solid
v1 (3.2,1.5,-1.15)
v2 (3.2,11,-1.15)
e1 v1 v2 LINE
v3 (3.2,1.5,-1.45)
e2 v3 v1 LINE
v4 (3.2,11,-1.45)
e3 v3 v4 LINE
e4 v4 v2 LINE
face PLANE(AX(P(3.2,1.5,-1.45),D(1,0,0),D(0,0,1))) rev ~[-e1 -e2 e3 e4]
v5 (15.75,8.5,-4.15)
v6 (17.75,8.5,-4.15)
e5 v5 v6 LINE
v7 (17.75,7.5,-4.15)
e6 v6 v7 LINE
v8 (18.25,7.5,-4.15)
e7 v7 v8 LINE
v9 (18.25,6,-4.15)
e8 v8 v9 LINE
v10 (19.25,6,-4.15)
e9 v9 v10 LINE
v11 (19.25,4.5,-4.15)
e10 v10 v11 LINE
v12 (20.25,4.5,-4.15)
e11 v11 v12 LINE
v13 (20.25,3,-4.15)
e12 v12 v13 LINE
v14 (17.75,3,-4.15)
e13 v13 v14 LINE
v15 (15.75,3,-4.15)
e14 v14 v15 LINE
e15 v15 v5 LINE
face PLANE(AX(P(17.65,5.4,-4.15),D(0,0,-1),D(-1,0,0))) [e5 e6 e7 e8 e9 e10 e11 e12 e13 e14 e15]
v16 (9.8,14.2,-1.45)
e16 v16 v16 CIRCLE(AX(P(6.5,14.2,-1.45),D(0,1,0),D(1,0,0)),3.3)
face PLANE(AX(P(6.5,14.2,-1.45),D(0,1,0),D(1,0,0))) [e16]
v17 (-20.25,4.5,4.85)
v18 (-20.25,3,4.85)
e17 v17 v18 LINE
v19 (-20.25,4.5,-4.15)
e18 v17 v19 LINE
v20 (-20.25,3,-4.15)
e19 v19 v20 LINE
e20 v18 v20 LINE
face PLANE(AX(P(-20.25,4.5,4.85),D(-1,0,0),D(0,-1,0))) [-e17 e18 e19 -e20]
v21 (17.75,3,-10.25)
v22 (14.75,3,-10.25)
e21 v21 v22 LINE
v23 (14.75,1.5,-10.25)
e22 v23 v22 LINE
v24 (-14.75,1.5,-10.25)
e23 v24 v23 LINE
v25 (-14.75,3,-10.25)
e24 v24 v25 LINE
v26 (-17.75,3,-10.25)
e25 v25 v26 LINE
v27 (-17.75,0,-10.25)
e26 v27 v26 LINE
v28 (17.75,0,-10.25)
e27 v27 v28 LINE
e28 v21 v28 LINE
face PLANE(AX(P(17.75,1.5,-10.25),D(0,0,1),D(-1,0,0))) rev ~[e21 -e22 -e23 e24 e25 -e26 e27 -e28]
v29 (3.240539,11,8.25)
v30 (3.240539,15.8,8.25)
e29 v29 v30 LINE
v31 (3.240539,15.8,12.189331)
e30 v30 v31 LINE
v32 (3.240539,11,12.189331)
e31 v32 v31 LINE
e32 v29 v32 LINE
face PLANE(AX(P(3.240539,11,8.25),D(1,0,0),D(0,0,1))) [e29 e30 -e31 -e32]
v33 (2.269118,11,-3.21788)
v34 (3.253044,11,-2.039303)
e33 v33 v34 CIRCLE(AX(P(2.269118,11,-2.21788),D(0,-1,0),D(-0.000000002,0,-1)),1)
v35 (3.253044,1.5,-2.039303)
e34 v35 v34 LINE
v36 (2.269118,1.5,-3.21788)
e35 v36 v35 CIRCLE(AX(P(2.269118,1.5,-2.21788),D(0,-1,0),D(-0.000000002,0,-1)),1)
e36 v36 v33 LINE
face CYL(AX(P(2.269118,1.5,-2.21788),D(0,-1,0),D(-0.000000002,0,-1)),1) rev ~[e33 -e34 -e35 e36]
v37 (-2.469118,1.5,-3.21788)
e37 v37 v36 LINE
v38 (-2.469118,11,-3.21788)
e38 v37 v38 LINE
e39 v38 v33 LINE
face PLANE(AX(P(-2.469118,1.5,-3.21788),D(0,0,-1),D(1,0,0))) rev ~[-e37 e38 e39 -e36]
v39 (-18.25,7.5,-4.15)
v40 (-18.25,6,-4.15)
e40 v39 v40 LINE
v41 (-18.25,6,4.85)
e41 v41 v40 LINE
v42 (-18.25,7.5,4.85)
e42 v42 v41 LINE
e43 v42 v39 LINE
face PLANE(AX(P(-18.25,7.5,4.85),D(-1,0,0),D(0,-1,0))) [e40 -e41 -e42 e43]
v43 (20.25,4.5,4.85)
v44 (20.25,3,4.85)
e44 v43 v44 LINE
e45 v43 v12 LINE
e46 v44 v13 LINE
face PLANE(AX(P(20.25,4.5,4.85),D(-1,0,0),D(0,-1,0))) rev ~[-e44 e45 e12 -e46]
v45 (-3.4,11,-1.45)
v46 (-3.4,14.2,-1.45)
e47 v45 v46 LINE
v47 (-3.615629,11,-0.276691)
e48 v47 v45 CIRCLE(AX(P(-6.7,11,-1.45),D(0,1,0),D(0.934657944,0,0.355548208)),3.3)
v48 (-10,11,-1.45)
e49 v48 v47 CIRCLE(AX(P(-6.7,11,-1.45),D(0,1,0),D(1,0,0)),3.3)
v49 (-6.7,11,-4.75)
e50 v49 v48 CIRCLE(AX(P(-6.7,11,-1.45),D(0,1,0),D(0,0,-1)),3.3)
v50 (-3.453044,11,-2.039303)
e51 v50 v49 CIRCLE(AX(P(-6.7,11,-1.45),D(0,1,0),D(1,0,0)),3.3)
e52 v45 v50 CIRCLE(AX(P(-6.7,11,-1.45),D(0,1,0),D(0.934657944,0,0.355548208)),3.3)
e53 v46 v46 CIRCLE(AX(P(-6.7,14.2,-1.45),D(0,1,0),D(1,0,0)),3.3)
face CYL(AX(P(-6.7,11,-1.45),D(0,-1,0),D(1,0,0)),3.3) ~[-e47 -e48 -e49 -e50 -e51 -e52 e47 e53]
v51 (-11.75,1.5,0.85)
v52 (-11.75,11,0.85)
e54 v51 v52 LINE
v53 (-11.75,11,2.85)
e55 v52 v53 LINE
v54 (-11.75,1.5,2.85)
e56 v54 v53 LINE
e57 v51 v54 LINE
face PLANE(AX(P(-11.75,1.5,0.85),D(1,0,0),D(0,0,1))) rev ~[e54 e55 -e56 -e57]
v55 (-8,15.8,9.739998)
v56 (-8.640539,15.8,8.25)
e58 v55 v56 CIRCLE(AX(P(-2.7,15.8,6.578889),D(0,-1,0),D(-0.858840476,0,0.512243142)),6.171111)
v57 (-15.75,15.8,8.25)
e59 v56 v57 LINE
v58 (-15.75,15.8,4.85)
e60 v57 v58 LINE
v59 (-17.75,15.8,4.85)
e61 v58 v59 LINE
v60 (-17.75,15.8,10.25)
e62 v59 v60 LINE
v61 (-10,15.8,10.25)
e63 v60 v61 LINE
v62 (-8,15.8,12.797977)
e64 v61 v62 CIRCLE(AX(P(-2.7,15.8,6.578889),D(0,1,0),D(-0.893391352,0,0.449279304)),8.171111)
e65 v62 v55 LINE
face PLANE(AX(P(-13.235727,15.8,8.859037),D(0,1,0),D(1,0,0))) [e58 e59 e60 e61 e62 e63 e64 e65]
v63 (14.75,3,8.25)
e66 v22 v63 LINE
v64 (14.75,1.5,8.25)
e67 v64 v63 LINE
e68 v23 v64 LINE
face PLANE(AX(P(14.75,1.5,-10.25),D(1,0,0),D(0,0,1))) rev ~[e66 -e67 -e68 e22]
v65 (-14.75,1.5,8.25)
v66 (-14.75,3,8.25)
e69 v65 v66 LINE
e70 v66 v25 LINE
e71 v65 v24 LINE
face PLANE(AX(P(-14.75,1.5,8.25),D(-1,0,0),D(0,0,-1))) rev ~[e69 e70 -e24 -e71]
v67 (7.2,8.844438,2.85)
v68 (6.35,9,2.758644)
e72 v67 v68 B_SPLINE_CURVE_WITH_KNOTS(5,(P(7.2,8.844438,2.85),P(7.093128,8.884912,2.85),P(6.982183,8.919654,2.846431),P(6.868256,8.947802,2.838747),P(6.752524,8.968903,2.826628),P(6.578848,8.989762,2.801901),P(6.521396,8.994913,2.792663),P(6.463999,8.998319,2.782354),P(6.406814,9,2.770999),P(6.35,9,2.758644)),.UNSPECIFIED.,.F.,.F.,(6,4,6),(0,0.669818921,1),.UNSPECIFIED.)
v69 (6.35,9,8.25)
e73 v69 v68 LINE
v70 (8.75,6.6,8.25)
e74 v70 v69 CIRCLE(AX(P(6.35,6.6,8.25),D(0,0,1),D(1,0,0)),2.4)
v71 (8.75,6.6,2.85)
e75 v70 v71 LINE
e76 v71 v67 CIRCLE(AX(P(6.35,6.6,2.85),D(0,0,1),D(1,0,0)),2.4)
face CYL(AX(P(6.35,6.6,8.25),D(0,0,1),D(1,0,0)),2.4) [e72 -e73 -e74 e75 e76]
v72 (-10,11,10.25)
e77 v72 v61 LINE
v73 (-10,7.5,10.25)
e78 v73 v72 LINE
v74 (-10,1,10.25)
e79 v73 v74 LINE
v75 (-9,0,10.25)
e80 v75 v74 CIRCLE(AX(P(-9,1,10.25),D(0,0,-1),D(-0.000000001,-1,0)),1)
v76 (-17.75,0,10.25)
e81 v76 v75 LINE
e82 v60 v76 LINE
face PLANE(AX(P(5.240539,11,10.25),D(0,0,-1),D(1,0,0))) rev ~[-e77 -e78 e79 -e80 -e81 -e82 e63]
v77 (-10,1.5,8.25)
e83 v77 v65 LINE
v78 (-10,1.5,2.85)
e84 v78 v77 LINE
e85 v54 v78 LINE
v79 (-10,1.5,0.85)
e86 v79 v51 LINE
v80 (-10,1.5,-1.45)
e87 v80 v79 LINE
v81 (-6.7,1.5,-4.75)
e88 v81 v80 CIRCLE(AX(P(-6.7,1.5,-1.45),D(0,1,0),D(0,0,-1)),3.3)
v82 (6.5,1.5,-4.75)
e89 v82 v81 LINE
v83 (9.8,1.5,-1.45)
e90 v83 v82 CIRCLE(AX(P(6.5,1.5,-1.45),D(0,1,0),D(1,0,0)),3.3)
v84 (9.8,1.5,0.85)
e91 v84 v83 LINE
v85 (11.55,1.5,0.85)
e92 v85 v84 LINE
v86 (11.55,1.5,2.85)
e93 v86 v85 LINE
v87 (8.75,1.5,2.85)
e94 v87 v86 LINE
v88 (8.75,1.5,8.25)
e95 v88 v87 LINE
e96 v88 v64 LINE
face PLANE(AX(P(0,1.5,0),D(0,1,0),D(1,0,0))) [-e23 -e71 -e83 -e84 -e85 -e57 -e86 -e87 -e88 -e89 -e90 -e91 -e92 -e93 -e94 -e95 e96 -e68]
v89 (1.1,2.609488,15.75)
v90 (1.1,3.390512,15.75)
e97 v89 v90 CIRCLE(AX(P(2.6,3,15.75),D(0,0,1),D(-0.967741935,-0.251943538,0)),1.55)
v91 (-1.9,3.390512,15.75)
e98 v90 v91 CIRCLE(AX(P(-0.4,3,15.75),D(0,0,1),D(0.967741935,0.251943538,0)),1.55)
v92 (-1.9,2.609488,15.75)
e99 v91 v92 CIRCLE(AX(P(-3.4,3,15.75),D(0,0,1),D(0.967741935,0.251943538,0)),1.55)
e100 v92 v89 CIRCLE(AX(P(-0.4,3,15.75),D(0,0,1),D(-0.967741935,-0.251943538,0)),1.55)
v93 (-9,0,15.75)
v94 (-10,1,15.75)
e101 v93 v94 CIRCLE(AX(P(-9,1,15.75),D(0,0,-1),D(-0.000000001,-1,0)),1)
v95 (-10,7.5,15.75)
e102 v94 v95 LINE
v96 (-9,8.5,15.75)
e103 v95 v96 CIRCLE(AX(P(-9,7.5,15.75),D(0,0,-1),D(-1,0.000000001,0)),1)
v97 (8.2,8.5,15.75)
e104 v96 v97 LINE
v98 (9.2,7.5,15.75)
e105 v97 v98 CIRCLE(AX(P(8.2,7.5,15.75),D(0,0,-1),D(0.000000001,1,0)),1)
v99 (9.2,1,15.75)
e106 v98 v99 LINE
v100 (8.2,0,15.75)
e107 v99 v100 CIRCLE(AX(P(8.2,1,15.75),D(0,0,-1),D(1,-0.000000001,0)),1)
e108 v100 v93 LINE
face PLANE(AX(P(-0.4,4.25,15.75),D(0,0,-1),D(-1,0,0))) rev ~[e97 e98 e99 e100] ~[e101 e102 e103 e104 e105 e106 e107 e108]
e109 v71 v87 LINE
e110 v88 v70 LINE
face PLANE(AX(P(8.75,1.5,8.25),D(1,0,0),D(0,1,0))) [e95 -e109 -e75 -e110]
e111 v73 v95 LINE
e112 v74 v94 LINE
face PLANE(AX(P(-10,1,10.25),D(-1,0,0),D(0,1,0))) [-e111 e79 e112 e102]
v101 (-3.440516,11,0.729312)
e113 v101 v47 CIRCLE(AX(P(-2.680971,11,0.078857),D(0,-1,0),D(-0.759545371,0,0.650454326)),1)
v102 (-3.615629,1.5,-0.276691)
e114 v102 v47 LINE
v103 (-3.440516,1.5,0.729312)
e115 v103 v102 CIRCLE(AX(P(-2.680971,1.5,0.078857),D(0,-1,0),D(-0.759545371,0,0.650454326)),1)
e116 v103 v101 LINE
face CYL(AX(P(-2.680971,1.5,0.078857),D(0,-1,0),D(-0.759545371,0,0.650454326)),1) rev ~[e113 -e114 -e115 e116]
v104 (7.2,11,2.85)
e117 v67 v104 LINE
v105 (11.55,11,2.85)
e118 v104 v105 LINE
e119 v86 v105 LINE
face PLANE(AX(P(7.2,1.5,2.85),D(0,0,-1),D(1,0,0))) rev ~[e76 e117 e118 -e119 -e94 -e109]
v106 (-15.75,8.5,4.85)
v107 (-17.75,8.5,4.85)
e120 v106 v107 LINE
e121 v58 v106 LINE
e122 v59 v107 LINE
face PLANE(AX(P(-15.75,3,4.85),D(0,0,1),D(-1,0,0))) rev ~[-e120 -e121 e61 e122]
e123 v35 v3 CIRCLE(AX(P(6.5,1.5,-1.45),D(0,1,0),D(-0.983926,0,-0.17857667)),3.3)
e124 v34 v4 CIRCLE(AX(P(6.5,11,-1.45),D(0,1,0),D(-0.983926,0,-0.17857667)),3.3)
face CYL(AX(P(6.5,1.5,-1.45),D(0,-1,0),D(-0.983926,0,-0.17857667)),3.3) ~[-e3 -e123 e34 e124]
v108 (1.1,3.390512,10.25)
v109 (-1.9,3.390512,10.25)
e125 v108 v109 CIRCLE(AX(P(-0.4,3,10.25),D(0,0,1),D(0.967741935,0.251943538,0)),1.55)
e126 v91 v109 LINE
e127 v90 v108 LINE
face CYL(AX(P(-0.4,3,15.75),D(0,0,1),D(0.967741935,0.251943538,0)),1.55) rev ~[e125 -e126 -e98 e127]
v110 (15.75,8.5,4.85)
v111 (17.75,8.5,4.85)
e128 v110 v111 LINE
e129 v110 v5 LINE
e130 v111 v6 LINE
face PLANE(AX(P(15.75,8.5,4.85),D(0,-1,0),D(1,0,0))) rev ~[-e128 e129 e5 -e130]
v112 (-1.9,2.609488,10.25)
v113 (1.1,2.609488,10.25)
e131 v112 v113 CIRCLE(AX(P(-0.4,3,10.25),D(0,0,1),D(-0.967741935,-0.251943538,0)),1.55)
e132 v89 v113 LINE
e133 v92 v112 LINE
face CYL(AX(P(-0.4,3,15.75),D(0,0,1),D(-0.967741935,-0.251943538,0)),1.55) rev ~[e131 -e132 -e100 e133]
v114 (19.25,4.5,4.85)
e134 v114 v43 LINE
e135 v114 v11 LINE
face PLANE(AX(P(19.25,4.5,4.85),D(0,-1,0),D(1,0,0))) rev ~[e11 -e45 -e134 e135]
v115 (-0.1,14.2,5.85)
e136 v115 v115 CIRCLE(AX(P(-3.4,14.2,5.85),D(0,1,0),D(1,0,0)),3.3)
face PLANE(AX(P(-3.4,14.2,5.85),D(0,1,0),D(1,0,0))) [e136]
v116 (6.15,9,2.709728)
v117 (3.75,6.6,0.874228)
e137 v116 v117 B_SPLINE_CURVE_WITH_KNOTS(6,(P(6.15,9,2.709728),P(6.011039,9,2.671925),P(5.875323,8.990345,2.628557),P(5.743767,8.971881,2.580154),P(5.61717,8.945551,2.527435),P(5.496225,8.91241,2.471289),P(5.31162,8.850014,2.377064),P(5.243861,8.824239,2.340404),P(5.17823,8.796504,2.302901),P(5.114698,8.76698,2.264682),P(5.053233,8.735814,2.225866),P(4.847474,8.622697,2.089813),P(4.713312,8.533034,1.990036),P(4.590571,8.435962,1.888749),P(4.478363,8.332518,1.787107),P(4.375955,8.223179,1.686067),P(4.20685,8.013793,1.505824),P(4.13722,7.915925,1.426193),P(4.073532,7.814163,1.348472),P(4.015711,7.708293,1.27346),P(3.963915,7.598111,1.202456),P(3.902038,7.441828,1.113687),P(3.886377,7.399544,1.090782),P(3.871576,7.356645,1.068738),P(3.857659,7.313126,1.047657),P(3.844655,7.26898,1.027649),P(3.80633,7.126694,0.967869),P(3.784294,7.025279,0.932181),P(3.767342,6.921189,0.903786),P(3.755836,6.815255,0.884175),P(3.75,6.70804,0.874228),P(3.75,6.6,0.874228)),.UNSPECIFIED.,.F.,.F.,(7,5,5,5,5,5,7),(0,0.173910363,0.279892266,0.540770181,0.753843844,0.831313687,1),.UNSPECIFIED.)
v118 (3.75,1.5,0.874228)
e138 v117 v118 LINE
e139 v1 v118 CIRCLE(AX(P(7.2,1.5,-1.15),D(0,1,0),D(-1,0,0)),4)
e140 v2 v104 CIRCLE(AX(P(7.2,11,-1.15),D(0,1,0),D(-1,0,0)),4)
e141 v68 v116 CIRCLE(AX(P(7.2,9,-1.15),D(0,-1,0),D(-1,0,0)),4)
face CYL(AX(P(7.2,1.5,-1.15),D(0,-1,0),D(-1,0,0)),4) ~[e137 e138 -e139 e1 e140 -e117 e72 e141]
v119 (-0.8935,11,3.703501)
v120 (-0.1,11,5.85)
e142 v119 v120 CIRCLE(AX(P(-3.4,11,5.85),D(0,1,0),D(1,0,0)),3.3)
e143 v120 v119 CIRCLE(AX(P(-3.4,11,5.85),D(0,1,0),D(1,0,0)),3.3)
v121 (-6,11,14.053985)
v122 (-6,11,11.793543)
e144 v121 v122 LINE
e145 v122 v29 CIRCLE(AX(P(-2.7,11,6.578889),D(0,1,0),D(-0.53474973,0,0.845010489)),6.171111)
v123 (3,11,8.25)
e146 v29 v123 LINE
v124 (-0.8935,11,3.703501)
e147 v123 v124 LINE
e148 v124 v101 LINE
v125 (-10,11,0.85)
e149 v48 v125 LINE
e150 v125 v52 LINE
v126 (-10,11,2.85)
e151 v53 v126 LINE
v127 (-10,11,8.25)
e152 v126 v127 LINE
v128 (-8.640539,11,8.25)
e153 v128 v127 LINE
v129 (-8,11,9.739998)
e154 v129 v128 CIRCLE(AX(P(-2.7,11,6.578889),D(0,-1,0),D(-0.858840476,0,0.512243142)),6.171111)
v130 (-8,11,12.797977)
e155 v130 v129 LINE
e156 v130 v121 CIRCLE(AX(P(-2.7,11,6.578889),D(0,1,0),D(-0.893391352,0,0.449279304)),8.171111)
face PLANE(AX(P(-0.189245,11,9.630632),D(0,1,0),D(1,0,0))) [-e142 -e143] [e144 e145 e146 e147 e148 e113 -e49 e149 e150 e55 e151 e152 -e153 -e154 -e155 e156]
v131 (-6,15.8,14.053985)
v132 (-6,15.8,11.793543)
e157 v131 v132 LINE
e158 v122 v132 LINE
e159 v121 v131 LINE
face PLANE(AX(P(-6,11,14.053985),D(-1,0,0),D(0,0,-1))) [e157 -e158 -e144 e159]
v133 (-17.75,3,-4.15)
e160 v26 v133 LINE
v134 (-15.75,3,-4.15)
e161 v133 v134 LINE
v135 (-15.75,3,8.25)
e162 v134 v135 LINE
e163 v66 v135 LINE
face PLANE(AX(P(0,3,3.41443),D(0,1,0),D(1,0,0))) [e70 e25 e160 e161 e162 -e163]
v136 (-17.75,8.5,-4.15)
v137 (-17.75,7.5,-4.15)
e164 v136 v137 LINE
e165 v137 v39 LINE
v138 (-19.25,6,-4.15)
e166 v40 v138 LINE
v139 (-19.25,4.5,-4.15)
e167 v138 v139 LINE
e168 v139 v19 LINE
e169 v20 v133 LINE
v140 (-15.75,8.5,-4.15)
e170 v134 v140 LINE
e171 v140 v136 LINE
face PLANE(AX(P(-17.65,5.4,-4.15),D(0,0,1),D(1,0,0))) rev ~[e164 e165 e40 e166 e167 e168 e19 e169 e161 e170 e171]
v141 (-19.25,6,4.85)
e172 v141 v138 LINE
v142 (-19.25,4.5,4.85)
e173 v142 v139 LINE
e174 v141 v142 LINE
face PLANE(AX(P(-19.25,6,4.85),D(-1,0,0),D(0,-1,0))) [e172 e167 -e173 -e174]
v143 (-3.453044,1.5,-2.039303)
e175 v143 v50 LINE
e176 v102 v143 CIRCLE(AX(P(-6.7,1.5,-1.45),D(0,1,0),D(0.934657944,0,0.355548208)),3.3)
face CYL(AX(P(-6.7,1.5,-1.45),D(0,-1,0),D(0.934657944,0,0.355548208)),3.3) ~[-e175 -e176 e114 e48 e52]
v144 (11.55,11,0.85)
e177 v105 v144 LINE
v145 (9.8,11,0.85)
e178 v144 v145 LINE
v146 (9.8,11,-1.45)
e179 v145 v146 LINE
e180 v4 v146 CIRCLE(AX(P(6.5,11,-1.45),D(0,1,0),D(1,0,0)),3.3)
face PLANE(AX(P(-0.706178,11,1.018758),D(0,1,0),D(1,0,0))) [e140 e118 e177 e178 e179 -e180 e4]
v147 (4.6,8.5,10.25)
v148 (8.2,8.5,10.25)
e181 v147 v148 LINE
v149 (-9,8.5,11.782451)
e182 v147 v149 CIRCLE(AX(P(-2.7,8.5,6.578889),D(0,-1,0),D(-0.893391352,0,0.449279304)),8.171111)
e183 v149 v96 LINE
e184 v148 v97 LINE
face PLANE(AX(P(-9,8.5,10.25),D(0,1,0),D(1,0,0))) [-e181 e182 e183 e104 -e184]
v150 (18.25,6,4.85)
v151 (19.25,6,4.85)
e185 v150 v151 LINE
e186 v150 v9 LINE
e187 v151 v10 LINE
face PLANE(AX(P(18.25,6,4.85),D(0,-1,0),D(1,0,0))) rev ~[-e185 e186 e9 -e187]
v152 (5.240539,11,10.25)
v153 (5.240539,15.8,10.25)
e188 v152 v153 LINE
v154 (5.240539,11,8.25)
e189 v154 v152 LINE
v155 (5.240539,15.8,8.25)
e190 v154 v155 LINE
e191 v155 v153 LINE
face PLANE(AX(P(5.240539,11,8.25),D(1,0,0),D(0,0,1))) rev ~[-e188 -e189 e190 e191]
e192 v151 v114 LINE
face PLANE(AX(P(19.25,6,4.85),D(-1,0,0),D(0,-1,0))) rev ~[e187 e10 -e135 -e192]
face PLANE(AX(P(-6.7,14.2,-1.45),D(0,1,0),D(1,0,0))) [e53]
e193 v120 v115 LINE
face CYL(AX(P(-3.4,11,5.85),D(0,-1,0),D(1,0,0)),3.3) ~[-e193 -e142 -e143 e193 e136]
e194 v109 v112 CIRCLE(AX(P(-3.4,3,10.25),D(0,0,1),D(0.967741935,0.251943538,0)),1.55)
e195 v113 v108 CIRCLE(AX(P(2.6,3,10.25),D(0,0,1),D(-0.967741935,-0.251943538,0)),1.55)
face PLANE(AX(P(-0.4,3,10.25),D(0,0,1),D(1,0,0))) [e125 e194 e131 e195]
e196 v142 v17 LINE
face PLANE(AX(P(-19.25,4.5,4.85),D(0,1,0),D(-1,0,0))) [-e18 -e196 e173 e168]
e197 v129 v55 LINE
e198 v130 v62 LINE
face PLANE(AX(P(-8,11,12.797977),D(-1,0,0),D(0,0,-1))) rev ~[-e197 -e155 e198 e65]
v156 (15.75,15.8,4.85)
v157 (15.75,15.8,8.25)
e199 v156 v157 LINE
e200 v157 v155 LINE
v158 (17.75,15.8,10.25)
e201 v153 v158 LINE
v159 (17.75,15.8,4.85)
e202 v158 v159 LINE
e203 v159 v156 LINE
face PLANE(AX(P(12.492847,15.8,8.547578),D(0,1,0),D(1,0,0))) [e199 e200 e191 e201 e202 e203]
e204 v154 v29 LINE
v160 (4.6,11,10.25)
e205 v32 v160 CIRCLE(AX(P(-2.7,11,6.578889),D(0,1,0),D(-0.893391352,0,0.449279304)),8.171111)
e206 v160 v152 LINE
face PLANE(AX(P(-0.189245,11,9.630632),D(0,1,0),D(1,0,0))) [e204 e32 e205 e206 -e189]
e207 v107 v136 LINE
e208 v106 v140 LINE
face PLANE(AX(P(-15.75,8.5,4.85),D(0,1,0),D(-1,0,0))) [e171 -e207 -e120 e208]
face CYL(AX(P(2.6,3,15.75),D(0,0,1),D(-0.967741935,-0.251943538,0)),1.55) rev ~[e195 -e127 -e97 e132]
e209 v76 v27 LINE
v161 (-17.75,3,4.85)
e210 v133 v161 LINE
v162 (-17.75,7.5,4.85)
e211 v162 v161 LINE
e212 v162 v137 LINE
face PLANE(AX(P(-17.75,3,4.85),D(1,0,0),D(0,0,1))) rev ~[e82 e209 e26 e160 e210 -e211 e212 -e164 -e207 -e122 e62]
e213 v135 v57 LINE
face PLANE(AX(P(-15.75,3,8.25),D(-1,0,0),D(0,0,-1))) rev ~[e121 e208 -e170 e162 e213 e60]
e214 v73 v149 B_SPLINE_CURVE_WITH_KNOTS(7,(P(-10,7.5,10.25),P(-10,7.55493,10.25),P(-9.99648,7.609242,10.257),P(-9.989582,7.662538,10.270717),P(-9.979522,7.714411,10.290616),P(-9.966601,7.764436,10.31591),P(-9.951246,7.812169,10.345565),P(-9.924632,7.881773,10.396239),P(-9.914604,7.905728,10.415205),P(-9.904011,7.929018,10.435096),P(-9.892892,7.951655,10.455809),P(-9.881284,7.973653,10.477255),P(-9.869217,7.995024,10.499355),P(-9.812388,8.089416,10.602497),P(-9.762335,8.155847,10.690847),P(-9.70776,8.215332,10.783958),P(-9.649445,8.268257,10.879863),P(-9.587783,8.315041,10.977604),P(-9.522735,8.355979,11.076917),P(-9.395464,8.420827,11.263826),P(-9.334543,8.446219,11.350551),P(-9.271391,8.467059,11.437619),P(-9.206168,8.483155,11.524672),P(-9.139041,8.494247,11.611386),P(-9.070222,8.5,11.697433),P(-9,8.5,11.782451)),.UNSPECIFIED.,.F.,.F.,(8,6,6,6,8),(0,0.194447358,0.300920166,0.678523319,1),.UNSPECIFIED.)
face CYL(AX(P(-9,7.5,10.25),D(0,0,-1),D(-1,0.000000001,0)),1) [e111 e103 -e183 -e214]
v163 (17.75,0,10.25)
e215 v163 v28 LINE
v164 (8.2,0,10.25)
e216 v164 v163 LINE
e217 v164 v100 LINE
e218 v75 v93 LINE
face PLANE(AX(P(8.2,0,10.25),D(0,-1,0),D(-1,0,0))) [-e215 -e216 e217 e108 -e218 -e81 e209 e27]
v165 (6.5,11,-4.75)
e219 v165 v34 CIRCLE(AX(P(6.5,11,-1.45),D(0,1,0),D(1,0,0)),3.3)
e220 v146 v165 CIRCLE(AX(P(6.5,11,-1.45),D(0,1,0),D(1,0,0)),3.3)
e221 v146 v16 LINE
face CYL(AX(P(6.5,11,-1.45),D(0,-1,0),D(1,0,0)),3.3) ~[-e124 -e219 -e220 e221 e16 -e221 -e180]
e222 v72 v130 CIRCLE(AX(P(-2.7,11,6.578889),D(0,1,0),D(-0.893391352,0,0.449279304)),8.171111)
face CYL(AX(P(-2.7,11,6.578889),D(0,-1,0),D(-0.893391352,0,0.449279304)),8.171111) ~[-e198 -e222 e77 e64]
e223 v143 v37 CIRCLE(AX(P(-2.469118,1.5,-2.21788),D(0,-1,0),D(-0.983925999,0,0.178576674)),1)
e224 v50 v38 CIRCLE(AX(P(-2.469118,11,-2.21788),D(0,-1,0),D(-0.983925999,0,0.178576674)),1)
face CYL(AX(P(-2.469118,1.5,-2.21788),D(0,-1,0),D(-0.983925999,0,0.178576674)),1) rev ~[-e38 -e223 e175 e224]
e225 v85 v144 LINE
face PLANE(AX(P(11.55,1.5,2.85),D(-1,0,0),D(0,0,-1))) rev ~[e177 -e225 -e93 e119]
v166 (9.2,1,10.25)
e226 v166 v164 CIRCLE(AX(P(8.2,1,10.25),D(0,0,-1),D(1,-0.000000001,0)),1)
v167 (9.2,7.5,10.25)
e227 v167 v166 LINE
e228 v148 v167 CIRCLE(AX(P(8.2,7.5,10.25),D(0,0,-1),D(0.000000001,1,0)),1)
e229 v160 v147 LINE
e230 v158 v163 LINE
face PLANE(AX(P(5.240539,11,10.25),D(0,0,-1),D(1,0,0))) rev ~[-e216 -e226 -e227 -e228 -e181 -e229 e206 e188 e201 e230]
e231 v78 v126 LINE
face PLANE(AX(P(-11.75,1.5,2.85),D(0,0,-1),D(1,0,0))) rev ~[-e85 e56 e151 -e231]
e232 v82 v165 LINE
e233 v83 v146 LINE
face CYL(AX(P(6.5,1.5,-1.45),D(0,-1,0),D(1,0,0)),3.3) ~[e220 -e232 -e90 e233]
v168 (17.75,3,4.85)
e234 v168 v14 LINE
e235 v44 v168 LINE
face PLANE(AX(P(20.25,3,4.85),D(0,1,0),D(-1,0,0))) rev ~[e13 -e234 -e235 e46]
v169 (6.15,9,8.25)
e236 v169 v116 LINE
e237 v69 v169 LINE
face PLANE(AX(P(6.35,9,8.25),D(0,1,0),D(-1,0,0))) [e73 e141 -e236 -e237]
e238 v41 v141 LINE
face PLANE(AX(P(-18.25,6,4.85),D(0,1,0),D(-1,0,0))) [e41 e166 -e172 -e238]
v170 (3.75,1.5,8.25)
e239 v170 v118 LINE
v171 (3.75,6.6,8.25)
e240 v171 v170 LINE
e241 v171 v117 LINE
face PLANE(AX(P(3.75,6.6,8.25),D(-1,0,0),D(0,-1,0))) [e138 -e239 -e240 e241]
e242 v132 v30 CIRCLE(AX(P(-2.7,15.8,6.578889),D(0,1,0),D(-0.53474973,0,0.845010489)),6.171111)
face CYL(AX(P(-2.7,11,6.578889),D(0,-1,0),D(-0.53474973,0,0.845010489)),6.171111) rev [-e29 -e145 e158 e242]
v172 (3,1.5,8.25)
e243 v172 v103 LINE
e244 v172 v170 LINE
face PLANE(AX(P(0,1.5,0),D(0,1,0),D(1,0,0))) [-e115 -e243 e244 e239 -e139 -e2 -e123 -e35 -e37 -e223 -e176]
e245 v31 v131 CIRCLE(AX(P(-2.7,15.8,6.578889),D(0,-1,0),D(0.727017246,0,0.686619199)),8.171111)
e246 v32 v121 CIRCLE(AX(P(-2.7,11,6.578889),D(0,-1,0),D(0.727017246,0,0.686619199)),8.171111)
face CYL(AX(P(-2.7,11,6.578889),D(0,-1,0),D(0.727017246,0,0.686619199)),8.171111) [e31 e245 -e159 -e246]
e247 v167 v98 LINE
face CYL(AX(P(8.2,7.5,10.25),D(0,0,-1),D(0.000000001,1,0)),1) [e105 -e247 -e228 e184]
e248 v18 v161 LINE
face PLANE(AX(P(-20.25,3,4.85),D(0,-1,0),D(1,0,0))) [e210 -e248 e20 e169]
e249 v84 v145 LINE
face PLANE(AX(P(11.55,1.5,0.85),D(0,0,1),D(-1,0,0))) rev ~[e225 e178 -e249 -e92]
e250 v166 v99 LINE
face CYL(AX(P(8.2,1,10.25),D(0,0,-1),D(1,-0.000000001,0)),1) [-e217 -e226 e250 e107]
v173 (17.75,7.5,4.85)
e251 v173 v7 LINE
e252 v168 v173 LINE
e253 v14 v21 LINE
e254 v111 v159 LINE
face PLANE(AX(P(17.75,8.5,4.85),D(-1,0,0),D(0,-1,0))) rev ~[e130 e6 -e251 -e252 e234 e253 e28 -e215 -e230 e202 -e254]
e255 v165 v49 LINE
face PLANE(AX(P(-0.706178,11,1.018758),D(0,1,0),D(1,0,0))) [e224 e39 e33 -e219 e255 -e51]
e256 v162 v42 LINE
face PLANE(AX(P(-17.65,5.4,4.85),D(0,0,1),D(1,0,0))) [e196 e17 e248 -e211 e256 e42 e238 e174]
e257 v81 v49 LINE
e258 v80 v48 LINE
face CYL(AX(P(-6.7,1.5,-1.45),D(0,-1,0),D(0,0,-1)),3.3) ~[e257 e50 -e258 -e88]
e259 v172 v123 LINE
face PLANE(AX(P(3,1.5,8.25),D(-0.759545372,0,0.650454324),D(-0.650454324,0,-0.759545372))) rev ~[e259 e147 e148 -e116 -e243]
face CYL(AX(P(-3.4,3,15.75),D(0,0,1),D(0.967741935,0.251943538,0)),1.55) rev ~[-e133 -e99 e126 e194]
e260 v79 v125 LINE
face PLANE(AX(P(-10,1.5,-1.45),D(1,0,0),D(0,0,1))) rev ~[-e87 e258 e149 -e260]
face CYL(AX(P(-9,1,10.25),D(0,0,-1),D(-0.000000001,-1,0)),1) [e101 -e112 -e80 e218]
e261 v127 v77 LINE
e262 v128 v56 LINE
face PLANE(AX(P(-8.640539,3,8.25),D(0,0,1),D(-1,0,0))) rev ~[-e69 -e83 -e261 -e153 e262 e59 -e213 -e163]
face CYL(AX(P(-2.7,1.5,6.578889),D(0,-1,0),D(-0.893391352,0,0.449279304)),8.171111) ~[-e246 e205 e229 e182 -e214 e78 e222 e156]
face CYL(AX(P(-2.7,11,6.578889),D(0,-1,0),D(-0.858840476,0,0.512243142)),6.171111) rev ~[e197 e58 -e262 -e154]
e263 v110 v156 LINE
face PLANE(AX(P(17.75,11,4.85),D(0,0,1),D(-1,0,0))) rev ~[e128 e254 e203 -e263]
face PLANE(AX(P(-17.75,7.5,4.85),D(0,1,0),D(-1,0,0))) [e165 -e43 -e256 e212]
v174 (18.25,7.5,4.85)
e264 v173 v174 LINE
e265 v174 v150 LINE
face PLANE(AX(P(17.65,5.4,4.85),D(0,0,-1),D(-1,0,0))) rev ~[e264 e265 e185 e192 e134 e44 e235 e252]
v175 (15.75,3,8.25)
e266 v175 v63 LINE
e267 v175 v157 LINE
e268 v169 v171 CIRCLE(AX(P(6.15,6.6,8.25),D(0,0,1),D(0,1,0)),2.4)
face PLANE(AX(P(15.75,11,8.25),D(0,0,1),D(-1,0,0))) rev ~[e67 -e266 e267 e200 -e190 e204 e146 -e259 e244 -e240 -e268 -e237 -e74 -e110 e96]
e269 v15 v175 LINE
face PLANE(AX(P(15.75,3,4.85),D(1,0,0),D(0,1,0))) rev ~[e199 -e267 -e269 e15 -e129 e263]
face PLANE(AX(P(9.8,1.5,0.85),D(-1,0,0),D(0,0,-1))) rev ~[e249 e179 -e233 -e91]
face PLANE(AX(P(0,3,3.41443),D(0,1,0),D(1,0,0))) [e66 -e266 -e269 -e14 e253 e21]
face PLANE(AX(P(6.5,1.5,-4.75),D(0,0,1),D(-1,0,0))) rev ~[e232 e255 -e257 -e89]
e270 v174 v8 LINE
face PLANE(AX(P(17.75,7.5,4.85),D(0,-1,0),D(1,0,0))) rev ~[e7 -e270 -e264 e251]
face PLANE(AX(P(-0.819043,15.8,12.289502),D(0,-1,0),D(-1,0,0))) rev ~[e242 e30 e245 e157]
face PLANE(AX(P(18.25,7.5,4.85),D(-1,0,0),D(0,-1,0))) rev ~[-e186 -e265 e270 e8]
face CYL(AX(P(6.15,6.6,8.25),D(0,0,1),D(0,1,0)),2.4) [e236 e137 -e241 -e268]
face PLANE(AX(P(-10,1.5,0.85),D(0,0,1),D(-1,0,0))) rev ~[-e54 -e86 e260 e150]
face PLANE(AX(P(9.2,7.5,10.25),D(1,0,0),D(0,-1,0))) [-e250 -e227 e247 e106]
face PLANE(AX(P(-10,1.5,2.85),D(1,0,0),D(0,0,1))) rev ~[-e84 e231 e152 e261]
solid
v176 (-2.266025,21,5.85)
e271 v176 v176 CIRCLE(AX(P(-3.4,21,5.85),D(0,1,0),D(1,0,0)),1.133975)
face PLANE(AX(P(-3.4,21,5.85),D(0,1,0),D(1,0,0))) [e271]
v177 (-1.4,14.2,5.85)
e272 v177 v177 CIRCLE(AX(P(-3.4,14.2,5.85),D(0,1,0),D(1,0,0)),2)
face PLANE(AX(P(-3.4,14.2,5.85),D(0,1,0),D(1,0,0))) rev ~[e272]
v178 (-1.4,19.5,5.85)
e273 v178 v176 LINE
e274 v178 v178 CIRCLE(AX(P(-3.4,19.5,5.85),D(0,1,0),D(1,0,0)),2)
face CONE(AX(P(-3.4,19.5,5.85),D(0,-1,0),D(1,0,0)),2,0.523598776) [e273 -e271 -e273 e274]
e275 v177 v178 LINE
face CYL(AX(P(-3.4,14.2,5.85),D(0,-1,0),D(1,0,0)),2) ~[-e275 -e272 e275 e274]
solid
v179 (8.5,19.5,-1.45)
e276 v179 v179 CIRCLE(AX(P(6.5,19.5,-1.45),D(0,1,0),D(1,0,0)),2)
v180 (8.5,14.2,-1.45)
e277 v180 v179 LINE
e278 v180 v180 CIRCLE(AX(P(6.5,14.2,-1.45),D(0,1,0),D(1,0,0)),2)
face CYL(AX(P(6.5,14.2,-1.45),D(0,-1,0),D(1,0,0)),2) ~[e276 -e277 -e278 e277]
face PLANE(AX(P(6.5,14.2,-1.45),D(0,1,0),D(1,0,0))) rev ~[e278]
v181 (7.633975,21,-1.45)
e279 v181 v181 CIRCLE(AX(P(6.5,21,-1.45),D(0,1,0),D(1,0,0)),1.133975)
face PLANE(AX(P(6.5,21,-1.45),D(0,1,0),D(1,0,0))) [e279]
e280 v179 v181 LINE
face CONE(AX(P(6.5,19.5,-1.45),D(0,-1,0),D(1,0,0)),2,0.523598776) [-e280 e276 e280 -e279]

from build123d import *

# Parameters (mm, degrees)
SKETCH1_W             = 35.5
SKETCH1_H             = 20.5
BOSS_EXTRUDE1_DEPTH   = 1.5
BOSS_EXTRUDE2_DEPTH   = 1.5
BOSS_EXTRUDE4_DEPTH   = 9.5
SKETCH6_R             = 3.3
BOSS_EXTRUDE5_DEPTH   = 3.2
SKETCH7_R             = 2
BOSS_EXTRUDE6_DEPTH   = 6.8
BOSS_EXTRUDE6_2_DEPTH = 6.8
CHAMFER1_SIZE         = 1.5
CHAMFER1_SIZE2        = 0.866025404
CHAMFER2_SIZE         = 1.5
CHAMFER2_SIZE2        = 0.866025404
BOSS_EXTRUDE7_DEPTH   = 8
BOSS_EXTRUDE8_DEPTH   = 4.8
BOSS_EXTRUDE9_DEPTH   = 5.5
BOSS_EXTRUDE10_DEPTH  = 9
BOSS_EXTRUDE11_DEPTH  = 9
CUT_EXTRUDE4_DEPTH    = 5.5


with BuildPart() as part:
    # Sketch1 → Boss-Extrude1 (new body)
    with BuildSketch(Plane(origin=(0, 0, 0), x_dir=(1, 0, 0), z_dir=(0, 1, 0))):
        Rectangle(SKETCH1_W, SKETCH1_H)
    extrude(amount=BOSS_EXTRUDE1_DEPTH)

    # Sketch2 → Boss-Extrude2 (add)
    with BuildSketch(Plane(origin=(0, 1.5, 0), x_dir=(1, 0, 0), z_dir=(0, 1, 0))):
        Polygon((17.75, 10.25), (14.75, 10.25), (14.75, -8.25), (-14.75, -8.25), (-14.75, 10.25), (-17.75, 10.25), (-17.75, -10.25), (17.75, -10.25), align=None)
    extrude(amount=BOSS_EXTRUDE2_DEPTH)

    # Sketch4 → Boss-Extrude4 (add)
    with BuildSketch(Plane(origin=(0, 1.5, 0), x_dir=(1, 0, 0), z_dir=(0, 1, 0))):
        with BuildLine():
            ThreePointArc((9.8, 1.45), (8.833452378, 3.783452378), (6.5, 4.75))
            Line((6.5, 4.75), (-6.7, 4.75))
            ThreePointArc((-6.7, 4.75), (-9.033452378, 3.783452378), (-10, 1.45))
            Line((-10, 1.45), (-10, -0.85))
            Line((-10, -0.85), (-11.75, -0.85))
            Line((-11.75, -0.85), (-11.75, -2.85))
            Line((-11.75, -2.85), (-10, -2.85))
            Line((-10, -2.85), (-10, -8.25))
            Line((-10, -8.25), (3, -8.25))
            Line((3, -8.25), (-3.440516213, -0.729311618))
            ThreePointArc((-3.440516213, -0.729311618), (-3.666156861, -0.250346383), (-3.615628786, 0.276690914))
            ThreePointArc((-3.615628786, 0.276690914), (-3.413949819, 1.146892415), (-3.453044202, 2.03930302))
            ThreePointArc((-3.453044202, 2.03930302), (-3.236769385, 2.858747591), (-2.469118203, 3.217879692))
            Line((-2.469118203, 3.217879692), (2.269118203, 3.217879692))
            ThreePointArc((2.269118203, 3.217879692), (3.036769385, 2.858747591), (3.253044202, 2.03930302))
            ThreePointArc((3.253044202, 2.03930302), (3.213287803, 1.745842752), (3.2, 1.45))
            Line((3.2, 1.45), (3.2, 1.15))
            ThreePointArc((3.2, 1.15), (4.371572875, -1.678427125), (7.2, -2.85))
            Line((7.2, -2.85), (9.8, -2.85))
            Line((9.8, -2.85), (11.55, -2.85))
            Line((11.55, -2.85), (11.55, -0.85))
            Line((11.55, -0.85), (9.8, -0.85))
            Line((9.8, -0.85), (9.8, 1.45))
        make_face()
        with BuildLine():
            Line((3, -8.25), (-10, -8.25))
            Line((-10, -8.25), (-10, -10.25))
            ThreePointArc((-10, -10.25), (-2.7, -14.75), (4.6, -10.25))
            Line((4.6, -10.25), (4.6, -8.25))
            Line((4.6, -8.25), (3, -8.25))
        make_face()
    extrude(amount=BOSS_EXTRUDE4_DEPTH)

    # Sketch6 → Boss-Extrude5 (add)
    with BuildSketch(Plane(origin=(0, 11, 0), x_dir=(1, 0, 0), z_dir=(0, 1, 0))):
        with Locations((-6.7, 1.45)):
            Circle(SKETCH6_R)
        with Locations((6.5, 1.45)):
            Circle(SKETCH6_R)
        with Locations((-3.4, -5.85)):
            Circle(SKETCH6_R)
    extrude(amount=BOSS_EXTRUDE5_DEPTH)

    # Sketch8 → Boss-Extrude7 (add)
    with BuildSketch(Plane(origin=(0, 3, 0), x_dir=(1, 0, 0), z_dir=(0, 1, 0))):
        with BuildLine():
            Line((-17.75, -10.25), (-10, -10.25))
            ThreePointArc((-10, -10.25), (-2.7, -14.75), (4.6, -10.25))
            Line((4.6, -10.25), (17.75, -10.25))
            Line((17.75, -10.25), (17.75, -4.85))
            Line((17.75, -4.85), (15.75, -4.85))
            Line((15.75, -4.85), (15.75, -8.25))
            Line((15.75, -8.25), (14.75, -8.25))
            Line((14.75, -8.25), (4.6, -8.25))
            Line((4.6, -8.25), (3.240538696, -8.25))
            ThreePointArc((3.240538696, -8.25), (-2.7, -12.75), (-8.640538696, -8.25))
            Line((-8.640538696, -8.25), (-10, -8.25))
            Line((-10, -8.25), (-14.75, -8.25))
            Line((-14.75, -8.25), (-15.75, -8.25))
            Line((-15.75, -8.25), (-15.75, -4.85))
            Line((-15.75, -4.85), (-17.75, -4.85))
            Line((-17.75, -4.85), (-17.75, -10.25))
        make_face()
    extrude(amount=BOSS_EXTRUDE7_DEPTH)

    # Sketch9 → Boss-Extrude8 (add)
    with BuildSketch(Plane(origin=(0, 11, 0), x_dir=(1, 0, 0), z_dir=(0, 1, 0))):
        Polygon((17.75, -10.25), (17.75, -4.85), (15.75, -4.85), (15.75, -8.25), (5.240538696, -8.25), (5.240538696, -10.25), align=None)
        with BuildLine():
            Line((-17.75, -4.85), (-17.75, -10.25))
            Line((-17.75, -10.25), (-10, -10.25))
            ThreePointArc((-10, -10.25), (-9.127522593, -11.624085625), (-8, -12.797976988))
            Line((-8, -12.797976988), (-8, -9.739998243))
            ThreePointArc((-8, -9.739998243), (-8.369431297, -9.016133462), (-8.640538696, -8.25))
            Line((-8.640538696, -8.25), (-15.75, -8.25))
            Line((-15.75, -8.25), (-15.75, -4.85))
            Line((-15.75, -4.85), (-17.75, -4.85))
        make_face()
        with BuildLine():
            Line((3.240538696, -8.25), (3.240538696, -12.189330653))
            ThreePointArc((3.240538696, -12.189330653), (-1.083725026, -14.588552552), (-6, -14.05398466))
            Line((-6, -14.05398466), (-6, -11.793542506))
            ThreePointArc((-6, -11.793542506), (-0.490410779, -12.340861452), (3.240538696, -8.25))
        make_face()
    extrude(amount=BOSS_EXTRUDE8_DEPTH)

    # Sketch10 → Boss-Extrude9 (add)
    with BuildSketch(Plane.XY.offset(10.25)):
        with BuildLine():
            Line((-10, 1), (-10, 7.5))
            ThreePointArc((-10, 7.5), (-9.707106781, 8.207106781), (-9, 8.5))
            Line((-9, 8.5), (8.2, 8.5))
            ThreePointArc((8.2, 8.5), (8.907106781, 8.207106781), (9.2, 7.5))
            Line((9.2, 7.5), (9.2, 1))
            ThreePointArc((9.2, 1), (8.907106781, 0.292893219), (8.2, 0))
            Line((8.2, 0), (-9, 0))
            ThreePointArc((-9, 0), (-9.707106781, 0.292893219), (-10, 1))
        make_face()
    extrude(amount=BOSS_EXTRUDE9_DEPTH)

    # Sketch11 → Boss-Extrude10 (add)
    with BuildSketch(Plane(origin=(0, 0, 4.85), x_dir=(-1, 0, 0), z_dir=(0, 0, -1))):
        Polygon((-15.75, 8.5), (-17.75, 8.5), (-17.75, 7.5), (-18.25, 7.5), (-18.25, 6), (-19.25, 6), (-19.25, 4.5), (-20.25, 4.5), (-20.25, 3), (-15.75, 3), align=None)
        Polygon((20.25, 4.5), (20.25, 3), (15.75, 3), (15.75, 8.5), (17.75, 8.5), (17.75, 7.5), (18.25, 7.5), (18.25, 6), (19.25, 6), (19.25, 4.5), align=None)
    extrude(amount=BOSS_EXTRUDE10_DEPTH)

    # Sketch12 → Boss-Extrude11 (add)
    with BuildSketch(Plane(origin=(0, 0, 8.25), x_dir=(-1, 0, 0), z_dir=(0, 0, -1))):
        with BuildLine():
            Line((-8.75, 1.5), (-8.75, 6.6))
            ThreePointArc((-8.75, 6.6), (-8.047056275, 8.297056275), (-6.35, 9))
            Line((-6.35, 9), (-6.15, 9))
            ThreePointArc((-6.15, 9), (-4.452943725, 8.297056275), (-3.75, 6.6))
            Line((-3.75, 6.6), (-3.75, 1.5))
            Line((-3.75, 1.5), (-8.75, 1.5))
        make_face()
    extrude(amount=BOSS_EXTRUDE11_DEPTH)

    # Sketch13 → Cut-Extrude4 (cut)
    with BuildSketch(Plane.XY.offset(15.75)):
        with BuildLine():
            ThreePointArc((-1.9, 2.609487516), (-0.4, 1.45), (1.1, 2.609487516))
            ThreePointArc((1.1, 2.609487516), (4.15, 3), (1.1, 3.390512484))
            ThreePointArc((1.1, 3.390512484), (-0.4, 4.55), (-1.9, 3.390512484))
            ThreePointArc((-1.9, 3.390512484), (-4.95, 3), (-1.9, 2.609487516))
        make_face()
    extrude(amount=-CUT_EXTRUDE4_DEPTH, mode=Mode.SUBTRACT)


with BuildPart() as body_2:
    # Sketch7 → Boss-Extrude6 (new body)
    with BuildSketch(Plane(origin=(0, 14.2, 0), x_dir=(1, 0, 0), z_dir=(0, 1, 0))):
        with Locations((-3.4, -5.85)):
            Circle(SKETCH7_R)
    extrude(amount=BOSS_EXTRUDE6_DEPTH)

    # Chamfer1
    chamfer1_edges = [body_2.edges().sort_by_distance(p)[0] for p in [
        (-5.4, 21, 5.85),
    ]]
    chamfer1_side = [body_2.faces().sort_by_distance(p)[0] for p in [
        (-5.4, 17.6, 5.85),
    ]]
    chamfer(chamfer1_edges, length=CHAMFER1_SIZE, length2=CHAMFER1_SIZE2, reference=chamfer1_side[0])


with BuildPart() as body_3:
    # Sketch7 → Boss-Extrude6 2 (new body)
    with BuildSketch(Plane(origin=(0, 14.2, 0), x_dir=(1, 0, 0), z_dir=(0, 1, 0))):
        with Locations((6.5, 1.45)):
            Circle(SKETCH7_R)
    extrude(amount=BOSS_EXTRUDE6_2_DEPTH)

    # Chamfer2
    chamfer2_edges = [body_3.edges().sort_by_distance(p)[0] for p in [
        (4.5, 21, -1.45),
    ]]
    chamfer2_side = [body_3.faces().sort_by_distance(p)[0] for p in [
        (4.5, 17.6, -1.45),
    ]]
    chamfer(chamfer2_edges, length=CHAMFER2_SIZE, length2=CHAMFER2_SIZE2, reference=chamfer2_side[0])


solid = Compound([part.part, body_2.part, body_3.part])
